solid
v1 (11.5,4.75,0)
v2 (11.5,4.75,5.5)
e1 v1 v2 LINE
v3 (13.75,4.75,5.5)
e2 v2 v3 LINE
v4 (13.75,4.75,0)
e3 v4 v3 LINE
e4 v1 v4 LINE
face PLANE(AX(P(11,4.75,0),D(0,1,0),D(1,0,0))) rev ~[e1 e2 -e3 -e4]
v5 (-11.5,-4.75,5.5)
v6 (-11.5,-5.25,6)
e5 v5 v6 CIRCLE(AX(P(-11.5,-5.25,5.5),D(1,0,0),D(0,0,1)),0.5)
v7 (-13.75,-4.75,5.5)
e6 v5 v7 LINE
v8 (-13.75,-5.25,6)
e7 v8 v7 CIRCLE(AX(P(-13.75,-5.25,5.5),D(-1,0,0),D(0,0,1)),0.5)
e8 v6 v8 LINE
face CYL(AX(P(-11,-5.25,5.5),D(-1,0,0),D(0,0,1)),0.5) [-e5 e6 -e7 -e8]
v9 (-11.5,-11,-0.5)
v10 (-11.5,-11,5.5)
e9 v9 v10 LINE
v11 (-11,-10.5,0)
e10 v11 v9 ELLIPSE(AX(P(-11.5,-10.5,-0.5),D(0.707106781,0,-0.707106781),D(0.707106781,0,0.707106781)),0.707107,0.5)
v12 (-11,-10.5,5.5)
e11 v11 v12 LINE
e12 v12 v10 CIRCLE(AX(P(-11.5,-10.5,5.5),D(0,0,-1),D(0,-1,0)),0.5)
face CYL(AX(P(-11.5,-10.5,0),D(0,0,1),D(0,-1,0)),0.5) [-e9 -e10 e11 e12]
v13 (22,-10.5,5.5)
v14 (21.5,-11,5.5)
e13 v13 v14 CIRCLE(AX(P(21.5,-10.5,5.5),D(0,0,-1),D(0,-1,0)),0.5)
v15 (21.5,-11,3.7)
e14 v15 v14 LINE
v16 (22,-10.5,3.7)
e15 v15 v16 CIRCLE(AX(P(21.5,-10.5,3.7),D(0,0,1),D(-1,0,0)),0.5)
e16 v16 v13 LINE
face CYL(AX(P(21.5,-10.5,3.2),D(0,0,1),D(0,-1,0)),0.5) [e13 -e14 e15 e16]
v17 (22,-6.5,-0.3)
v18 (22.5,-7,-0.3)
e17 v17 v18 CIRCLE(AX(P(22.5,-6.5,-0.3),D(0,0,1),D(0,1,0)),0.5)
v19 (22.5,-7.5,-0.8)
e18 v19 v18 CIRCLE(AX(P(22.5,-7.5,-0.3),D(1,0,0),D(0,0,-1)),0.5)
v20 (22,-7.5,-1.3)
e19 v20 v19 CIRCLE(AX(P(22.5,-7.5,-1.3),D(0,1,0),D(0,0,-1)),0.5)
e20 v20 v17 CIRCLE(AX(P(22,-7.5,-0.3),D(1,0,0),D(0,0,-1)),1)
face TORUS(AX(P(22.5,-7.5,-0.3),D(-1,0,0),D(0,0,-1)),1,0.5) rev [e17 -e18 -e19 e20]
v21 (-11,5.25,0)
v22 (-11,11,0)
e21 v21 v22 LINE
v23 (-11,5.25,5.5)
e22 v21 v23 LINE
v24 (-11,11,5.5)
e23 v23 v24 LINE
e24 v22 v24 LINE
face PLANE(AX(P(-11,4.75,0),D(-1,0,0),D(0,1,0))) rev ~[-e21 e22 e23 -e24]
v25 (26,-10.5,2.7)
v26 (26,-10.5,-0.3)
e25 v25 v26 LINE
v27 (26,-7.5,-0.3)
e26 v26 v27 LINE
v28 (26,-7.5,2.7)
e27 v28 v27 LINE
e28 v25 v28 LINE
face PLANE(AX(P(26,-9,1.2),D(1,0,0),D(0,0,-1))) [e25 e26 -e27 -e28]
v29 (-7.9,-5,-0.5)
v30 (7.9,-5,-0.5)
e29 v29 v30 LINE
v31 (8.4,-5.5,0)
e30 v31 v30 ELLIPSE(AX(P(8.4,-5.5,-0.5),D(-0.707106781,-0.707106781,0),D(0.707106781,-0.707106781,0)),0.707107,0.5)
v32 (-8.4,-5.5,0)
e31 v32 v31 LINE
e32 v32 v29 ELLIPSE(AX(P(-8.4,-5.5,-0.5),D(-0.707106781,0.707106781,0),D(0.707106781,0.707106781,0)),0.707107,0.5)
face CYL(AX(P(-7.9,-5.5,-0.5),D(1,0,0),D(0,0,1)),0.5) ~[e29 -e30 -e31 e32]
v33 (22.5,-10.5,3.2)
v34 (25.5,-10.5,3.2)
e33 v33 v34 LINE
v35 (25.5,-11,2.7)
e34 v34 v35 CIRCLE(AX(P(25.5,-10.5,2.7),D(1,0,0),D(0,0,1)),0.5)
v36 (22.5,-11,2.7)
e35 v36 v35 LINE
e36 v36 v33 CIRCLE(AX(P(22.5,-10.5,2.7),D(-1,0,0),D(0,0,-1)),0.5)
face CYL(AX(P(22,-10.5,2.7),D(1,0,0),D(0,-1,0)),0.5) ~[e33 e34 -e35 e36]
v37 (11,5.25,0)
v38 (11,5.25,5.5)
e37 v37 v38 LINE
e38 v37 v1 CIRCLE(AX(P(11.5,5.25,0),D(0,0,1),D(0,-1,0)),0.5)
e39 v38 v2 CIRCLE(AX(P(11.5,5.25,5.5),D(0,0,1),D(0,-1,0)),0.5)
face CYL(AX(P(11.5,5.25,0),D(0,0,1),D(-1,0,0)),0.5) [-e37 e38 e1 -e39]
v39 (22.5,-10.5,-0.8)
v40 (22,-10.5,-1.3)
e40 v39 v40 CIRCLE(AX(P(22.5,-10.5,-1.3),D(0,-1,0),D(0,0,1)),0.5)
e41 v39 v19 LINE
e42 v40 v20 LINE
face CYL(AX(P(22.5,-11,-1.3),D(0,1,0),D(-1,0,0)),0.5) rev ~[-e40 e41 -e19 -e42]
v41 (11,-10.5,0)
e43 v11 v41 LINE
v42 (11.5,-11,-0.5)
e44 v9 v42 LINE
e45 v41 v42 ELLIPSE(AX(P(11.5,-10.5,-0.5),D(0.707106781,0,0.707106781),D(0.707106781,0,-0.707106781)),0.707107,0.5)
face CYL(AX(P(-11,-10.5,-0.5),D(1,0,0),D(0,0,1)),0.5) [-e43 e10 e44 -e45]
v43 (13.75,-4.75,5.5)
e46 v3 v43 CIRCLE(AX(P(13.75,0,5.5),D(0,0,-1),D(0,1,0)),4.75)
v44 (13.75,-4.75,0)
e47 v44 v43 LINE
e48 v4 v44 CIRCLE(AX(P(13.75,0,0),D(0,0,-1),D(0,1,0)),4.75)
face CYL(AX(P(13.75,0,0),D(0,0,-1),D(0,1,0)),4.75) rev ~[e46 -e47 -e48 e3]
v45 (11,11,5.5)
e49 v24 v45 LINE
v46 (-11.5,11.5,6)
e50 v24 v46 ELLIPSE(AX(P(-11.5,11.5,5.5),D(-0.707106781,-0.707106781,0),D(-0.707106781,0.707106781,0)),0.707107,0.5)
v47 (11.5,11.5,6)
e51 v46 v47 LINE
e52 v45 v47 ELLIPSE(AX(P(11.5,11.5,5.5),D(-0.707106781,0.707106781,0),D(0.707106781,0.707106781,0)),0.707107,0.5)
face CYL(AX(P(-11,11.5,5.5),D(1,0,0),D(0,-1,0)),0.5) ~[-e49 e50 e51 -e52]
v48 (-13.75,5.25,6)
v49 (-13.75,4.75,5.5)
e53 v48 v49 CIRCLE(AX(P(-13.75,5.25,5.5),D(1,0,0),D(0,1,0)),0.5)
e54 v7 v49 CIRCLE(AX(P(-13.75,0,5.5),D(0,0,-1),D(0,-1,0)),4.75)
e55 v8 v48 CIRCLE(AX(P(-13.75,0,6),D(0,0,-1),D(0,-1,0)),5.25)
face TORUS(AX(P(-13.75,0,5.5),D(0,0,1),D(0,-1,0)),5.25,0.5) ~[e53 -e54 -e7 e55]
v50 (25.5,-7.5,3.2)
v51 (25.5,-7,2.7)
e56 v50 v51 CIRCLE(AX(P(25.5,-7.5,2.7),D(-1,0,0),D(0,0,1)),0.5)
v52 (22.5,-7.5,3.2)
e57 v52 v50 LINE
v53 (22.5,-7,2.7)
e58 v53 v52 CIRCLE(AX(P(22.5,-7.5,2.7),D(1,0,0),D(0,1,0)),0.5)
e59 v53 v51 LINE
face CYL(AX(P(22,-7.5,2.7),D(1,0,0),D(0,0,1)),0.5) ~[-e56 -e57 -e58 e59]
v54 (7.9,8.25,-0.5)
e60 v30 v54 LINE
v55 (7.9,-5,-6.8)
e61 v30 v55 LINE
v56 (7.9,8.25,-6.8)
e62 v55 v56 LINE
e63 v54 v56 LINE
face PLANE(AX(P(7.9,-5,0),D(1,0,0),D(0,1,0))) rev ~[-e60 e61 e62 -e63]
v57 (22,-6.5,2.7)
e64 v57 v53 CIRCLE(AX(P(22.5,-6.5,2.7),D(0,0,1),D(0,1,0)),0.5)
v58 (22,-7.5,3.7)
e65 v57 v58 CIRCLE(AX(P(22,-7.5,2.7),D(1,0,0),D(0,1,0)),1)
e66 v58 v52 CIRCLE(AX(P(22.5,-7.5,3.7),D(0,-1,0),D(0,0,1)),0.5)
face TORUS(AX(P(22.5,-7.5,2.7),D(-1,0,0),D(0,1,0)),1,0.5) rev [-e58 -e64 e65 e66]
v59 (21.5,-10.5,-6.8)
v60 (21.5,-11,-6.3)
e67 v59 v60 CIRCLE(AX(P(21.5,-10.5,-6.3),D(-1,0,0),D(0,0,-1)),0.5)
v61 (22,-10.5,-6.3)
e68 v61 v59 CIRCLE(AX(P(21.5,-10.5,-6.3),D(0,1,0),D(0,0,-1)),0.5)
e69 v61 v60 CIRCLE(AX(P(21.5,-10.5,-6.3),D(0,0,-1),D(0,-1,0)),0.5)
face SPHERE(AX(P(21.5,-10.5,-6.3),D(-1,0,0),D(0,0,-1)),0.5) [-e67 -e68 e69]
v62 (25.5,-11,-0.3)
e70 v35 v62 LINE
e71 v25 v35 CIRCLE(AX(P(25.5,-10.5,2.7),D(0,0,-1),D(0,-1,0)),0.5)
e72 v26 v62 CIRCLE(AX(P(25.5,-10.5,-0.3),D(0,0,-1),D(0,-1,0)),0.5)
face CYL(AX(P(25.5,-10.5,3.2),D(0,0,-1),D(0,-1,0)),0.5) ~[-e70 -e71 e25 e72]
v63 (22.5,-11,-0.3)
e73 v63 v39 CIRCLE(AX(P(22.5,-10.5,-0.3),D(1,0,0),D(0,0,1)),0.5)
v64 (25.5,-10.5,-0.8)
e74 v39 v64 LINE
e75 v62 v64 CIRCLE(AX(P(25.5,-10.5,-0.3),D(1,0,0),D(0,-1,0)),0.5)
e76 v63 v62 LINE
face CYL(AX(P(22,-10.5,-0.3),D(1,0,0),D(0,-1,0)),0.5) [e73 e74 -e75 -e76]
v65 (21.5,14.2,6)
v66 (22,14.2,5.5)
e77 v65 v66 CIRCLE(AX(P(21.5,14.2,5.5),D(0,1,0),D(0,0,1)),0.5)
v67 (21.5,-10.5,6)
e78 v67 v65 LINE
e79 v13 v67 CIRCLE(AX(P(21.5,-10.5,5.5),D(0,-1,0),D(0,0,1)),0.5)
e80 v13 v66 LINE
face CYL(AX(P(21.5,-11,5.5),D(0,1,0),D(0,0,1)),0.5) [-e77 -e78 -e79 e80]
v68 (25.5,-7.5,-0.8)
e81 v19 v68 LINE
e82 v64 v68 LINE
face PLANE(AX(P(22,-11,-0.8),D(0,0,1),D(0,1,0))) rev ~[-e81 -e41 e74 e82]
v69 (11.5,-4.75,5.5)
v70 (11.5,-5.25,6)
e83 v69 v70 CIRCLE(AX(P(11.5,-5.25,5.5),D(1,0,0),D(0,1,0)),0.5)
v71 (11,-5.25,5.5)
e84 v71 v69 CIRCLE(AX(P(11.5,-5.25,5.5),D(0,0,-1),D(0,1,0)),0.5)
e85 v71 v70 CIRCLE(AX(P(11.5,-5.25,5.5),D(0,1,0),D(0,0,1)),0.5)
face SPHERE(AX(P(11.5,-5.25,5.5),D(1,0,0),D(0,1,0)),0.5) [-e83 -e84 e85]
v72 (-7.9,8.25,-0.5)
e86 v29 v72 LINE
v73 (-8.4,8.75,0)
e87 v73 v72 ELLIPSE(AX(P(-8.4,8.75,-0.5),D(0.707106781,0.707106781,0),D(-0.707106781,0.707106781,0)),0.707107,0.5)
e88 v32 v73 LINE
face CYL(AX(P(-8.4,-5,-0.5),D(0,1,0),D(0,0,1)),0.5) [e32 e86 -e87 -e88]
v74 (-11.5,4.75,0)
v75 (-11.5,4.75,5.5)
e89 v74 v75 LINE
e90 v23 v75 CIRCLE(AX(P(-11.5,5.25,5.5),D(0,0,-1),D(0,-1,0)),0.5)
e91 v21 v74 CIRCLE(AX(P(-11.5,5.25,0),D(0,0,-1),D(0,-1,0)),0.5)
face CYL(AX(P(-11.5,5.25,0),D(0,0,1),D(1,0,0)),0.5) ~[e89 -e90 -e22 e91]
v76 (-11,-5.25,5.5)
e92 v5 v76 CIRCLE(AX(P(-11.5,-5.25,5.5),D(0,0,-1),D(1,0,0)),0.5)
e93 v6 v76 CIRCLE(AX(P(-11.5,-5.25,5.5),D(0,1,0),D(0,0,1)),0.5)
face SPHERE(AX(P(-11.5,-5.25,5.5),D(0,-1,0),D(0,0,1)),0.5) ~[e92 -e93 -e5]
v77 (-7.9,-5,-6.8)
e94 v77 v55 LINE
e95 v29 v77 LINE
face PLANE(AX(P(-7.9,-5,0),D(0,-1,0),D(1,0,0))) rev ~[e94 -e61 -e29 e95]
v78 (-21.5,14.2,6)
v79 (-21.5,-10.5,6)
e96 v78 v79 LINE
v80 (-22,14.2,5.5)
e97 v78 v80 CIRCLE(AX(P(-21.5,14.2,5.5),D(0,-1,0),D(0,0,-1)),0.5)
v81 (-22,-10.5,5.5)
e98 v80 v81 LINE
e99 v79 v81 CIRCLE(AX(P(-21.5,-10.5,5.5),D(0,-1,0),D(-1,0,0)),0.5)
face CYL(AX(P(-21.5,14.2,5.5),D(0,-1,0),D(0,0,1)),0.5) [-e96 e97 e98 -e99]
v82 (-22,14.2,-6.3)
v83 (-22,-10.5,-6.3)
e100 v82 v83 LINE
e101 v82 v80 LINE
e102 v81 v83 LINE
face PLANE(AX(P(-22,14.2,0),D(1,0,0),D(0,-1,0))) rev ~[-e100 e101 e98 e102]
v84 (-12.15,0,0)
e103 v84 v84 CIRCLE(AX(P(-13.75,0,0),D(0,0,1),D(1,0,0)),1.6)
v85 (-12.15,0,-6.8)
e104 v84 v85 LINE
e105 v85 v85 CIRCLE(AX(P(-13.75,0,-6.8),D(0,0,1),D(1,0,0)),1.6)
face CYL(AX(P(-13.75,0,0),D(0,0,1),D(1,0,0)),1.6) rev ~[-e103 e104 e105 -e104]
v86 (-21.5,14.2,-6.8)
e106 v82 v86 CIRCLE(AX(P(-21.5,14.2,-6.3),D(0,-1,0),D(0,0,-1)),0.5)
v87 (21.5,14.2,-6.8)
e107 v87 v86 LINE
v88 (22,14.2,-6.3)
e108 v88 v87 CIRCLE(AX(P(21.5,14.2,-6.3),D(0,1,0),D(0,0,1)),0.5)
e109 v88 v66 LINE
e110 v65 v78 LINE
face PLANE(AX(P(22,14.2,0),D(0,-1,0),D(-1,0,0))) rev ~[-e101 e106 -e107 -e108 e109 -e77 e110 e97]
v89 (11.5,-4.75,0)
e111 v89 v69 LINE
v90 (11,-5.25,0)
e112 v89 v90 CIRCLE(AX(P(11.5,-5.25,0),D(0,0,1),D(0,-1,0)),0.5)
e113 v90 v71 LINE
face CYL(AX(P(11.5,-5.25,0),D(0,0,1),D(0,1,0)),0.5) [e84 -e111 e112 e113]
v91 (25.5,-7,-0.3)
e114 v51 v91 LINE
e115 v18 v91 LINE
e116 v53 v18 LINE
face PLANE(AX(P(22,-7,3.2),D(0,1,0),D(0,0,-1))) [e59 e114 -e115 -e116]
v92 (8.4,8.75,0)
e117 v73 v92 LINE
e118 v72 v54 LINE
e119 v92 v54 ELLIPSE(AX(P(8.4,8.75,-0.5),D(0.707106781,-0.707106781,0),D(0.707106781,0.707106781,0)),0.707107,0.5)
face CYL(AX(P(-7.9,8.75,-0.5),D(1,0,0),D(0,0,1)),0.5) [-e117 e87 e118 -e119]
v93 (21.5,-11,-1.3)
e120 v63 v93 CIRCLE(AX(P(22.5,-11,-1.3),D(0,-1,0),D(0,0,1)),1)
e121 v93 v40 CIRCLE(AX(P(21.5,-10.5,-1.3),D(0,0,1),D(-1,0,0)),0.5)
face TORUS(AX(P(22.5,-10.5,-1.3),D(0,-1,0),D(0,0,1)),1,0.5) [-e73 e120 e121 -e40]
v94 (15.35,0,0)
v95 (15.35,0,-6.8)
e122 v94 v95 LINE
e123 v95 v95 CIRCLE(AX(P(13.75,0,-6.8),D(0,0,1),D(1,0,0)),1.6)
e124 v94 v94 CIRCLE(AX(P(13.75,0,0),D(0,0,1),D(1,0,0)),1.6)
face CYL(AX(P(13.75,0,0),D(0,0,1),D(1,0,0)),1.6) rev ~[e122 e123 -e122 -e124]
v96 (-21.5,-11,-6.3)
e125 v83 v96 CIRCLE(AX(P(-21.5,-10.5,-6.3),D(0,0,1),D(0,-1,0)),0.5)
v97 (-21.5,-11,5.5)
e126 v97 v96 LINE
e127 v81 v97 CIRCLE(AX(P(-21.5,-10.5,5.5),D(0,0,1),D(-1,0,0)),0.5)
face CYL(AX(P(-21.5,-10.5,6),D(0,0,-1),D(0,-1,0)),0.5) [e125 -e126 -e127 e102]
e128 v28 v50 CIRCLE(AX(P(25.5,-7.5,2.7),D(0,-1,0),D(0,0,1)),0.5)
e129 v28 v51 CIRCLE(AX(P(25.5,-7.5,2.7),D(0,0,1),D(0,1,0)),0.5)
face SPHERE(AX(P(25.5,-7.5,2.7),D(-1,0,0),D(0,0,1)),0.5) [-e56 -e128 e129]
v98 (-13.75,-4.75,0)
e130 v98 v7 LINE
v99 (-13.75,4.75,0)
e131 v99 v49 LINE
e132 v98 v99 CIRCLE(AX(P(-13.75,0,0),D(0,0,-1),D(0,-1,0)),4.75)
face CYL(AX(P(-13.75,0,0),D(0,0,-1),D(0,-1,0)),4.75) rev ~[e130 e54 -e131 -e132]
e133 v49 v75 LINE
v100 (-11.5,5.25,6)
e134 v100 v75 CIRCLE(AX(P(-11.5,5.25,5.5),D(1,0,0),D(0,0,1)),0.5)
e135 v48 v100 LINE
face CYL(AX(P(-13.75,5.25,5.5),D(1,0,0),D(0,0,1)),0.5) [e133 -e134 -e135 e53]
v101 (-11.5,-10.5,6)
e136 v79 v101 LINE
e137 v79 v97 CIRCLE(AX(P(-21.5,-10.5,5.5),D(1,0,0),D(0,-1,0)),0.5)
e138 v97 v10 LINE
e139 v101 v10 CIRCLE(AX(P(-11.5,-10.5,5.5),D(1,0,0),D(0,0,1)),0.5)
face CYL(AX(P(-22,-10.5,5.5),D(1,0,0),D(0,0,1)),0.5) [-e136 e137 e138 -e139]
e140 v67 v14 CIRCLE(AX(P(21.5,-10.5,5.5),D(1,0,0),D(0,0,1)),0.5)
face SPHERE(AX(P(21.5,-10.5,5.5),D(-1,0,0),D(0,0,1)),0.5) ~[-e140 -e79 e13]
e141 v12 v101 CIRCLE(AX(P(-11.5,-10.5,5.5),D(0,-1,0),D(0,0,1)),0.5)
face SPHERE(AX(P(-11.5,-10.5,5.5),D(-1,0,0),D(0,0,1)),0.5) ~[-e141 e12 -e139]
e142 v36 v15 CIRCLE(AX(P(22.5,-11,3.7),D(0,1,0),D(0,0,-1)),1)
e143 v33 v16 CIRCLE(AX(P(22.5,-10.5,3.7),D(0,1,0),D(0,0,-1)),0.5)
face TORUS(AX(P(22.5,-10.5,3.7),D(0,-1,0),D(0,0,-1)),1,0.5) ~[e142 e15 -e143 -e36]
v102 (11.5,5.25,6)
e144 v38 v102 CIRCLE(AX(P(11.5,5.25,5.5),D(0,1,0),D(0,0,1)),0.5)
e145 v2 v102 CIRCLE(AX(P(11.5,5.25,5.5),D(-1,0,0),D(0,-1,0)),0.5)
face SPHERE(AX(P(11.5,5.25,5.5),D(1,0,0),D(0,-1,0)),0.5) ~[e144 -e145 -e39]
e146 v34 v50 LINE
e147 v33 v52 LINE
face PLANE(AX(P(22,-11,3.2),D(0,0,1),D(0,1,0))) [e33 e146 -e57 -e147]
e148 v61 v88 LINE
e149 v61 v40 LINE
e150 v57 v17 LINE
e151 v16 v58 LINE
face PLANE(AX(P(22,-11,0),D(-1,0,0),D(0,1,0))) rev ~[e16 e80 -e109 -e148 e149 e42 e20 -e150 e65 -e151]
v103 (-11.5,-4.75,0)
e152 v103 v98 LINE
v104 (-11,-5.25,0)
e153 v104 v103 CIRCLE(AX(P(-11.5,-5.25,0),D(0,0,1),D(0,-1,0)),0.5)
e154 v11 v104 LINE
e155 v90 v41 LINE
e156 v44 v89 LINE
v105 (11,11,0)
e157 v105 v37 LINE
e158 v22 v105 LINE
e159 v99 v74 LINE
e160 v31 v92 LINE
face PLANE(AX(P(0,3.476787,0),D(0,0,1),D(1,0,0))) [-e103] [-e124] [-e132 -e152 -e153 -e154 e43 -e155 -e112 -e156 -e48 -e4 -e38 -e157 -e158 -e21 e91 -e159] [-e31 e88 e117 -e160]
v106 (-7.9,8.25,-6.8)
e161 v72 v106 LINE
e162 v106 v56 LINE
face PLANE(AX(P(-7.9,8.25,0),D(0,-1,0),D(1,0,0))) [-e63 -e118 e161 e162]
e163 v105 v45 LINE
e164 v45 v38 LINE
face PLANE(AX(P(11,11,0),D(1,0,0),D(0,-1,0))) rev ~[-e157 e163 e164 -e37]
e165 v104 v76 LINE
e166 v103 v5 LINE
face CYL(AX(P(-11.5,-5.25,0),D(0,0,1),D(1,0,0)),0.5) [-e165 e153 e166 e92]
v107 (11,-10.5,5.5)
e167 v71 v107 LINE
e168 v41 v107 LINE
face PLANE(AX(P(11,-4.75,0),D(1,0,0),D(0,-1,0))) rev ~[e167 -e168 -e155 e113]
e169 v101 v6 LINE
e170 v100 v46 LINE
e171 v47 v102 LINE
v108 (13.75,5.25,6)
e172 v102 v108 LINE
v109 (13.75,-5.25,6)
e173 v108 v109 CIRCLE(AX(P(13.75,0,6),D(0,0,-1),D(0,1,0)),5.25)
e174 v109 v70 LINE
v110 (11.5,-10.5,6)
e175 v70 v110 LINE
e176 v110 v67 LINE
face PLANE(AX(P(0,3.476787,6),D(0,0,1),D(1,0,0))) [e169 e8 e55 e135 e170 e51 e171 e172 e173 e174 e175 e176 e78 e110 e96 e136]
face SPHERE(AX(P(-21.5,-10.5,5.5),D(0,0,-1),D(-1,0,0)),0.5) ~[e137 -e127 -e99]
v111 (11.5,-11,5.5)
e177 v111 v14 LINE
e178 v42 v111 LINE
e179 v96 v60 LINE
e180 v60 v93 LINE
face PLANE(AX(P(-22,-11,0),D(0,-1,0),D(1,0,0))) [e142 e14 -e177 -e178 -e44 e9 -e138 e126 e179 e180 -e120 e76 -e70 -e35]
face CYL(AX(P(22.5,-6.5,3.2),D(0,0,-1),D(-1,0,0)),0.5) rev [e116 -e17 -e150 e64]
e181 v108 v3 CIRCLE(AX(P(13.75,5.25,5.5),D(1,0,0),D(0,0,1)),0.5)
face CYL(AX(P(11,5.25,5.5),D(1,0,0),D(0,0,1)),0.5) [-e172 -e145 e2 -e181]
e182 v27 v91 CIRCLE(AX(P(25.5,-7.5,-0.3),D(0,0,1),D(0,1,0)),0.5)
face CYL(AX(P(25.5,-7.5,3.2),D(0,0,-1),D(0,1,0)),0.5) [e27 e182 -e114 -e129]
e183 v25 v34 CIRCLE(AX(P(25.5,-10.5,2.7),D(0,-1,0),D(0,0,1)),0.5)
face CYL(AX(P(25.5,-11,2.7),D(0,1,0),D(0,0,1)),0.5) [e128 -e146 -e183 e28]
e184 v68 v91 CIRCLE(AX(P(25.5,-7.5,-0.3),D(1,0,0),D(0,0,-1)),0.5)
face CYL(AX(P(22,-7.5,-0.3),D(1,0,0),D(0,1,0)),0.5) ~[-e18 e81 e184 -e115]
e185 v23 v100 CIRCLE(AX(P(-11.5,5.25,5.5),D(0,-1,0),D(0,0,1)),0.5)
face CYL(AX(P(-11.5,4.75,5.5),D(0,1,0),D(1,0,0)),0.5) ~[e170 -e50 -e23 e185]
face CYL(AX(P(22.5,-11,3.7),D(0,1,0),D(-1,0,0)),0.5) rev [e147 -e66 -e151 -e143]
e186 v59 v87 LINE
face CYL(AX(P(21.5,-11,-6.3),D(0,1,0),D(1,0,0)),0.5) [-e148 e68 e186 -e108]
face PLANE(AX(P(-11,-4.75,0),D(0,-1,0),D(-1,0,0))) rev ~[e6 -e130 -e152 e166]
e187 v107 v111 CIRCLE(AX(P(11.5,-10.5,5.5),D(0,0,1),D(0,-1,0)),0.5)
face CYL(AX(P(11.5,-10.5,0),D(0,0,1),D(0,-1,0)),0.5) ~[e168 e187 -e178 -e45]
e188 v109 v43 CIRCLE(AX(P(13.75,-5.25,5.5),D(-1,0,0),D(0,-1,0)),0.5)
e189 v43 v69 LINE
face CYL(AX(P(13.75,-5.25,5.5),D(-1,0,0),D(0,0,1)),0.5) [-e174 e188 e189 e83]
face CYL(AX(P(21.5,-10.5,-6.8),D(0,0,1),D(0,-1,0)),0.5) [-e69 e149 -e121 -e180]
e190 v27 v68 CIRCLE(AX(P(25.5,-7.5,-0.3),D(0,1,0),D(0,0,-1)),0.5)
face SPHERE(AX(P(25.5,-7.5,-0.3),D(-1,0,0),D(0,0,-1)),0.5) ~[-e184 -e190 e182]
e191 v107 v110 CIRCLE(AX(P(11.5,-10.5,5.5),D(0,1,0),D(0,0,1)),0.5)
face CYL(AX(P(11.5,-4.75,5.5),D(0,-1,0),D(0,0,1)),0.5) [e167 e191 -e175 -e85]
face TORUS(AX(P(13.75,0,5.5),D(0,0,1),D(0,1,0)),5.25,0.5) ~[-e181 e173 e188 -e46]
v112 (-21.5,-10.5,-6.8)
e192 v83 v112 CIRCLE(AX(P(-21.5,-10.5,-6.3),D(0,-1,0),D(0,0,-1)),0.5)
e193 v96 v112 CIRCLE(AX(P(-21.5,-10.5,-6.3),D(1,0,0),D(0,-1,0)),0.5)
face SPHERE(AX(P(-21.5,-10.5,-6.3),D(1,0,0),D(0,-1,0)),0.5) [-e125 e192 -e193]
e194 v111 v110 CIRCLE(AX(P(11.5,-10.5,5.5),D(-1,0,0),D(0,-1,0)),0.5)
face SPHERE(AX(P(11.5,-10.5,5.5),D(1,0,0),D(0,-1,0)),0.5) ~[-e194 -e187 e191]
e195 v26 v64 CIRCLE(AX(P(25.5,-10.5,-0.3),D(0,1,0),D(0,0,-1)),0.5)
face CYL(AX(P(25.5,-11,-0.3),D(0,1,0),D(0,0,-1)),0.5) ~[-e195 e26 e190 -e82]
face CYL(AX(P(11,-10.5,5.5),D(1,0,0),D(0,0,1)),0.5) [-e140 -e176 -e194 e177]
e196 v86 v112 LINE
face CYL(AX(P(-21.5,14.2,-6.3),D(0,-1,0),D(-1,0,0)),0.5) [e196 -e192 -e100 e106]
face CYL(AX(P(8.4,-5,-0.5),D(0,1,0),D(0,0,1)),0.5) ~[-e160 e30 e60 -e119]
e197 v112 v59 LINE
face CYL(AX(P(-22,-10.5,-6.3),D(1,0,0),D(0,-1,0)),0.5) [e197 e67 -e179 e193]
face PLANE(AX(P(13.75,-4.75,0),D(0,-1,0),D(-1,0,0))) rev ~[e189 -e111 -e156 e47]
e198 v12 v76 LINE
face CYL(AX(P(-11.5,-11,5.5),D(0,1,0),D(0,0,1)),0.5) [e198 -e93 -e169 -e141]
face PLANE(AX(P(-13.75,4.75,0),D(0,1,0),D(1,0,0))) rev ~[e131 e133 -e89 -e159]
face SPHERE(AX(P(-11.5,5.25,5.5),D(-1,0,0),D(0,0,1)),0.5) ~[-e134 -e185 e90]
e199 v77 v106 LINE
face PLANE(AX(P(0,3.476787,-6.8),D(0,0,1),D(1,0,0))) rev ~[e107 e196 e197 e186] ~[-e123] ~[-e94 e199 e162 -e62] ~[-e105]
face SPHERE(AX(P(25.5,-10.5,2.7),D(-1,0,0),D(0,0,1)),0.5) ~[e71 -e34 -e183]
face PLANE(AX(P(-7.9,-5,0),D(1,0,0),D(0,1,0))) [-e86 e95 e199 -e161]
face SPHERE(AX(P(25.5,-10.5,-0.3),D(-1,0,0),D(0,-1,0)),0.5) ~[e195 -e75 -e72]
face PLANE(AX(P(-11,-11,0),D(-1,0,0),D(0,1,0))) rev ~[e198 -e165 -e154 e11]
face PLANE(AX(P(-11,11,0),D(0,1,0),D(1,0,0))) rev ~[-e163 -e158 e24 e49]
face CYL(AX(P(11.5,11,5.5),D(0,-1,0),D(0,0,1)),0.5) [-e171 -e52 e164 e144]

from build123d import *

# Parameters (mm, degrees)
SKETCH1_W           = 44
SKETCH1_H           = 25.2
SKETCH1_R           = 1.6
SKETCH1_W_2         = 15.8
SKETCH1_H_2         = 13.25
BOSS_EXTRUDE1_DEPTH = 6.8
BOSS_EXTRUDE4_DEPTH = 6
SKETCH6_W           = 4
SKETCH6_H           = 4
BOSS_EXTRUDE6_DEPTH = 4
FILLET1_R           = 0.5


with BuildPart() as part:
    # Sketch1 → Boss-Extrude1 (new body)
    with BuildSketch(Plane.XY):
        with Locations((0, 1.6)):
            Rectangle(SKETCH1_W, SKETCH1_H)
        with Locations((13.75, 0)):
            Circle(SKETCH1_R, mode=Mode.SUBTRACT)
        with Locations((0, 1.625)):
            Rectangle(SKETCH1_W_2, SKETCH1_H_2, mode=Mode.SUBTRACT)
        with Locations((-13.75, 0)):
            Circle(SKETCH1_R, mode=Mode.SUBTRACT)
    extrude(amount=-BOSS_EXTRUDE1_DEPTH)

    # Sketch1<3> → Boss-Extrude4 (add)
    with BuildSketch(Plane.XY):
        with BuildLine():
            Line((-11, 4.75), (-11, 11))
            Line((-11, 11), (11, 11))
            Line((11, 11), (11, 4.75))
            Line((11, 4.75), (13.75, 4.75))
            ThreePointArc((13.75, 4.75), (18.5, 0), (13.75, -4.75))
            Line((13.75, -4.75), (11, -4.75))
            Line((11, -4.75), (11, -11))
            Line((11, -11), (22, -11))
            Line((22, -11), (22, 14.2))
            Line((22, 14.2), (-22, 14.2))
            Line((-22, 14.2), (-22, -11))
            Line((-22, -11), (-11, -11))
            Line((-11, -11), (-11, -4.75))
            Line((-11, -4.75), (-13.75, -4.75))
            ThreePointArc((-13.75, -4.75), (-18.5, 0), (-13.75, 4.75))
            Line((-13.75, 4.75), (-11, 4.75))
        make_face()
    extrude(amount=BOSS_EXTRUDE4_DEPTH)

    # Sketch6 → Boss-Extrude6 (add)
    with BuildSketch(Plane(origin=(22, 0, 0), x_dir=(0, 0, -1), z_dir=(1, 0, 0))):
        with Locations((-1.2, -9)):
            Rectangle(SKETCH6_W, SKETCH6_H)
    extrude(amount=BOSS_EXTRUDE6_DEPTH)

    # Fillet1
    fillet1_edges = [part.edges().sort_by_distance(p)[0] for p in [
        (22, -7, 1.2),
        (24, -11, 3.2),
        (24, -11, -0.8),
        (26, -9, -0.8),
        (24, -7, -0.8),
        (22, -9, -0.8),
        (24, -7, 3.2),
        (22, -9, 3.2),
        (26, -9, 3.2),
        (26, -7, 1.2),
        (26, -11, 1.2),
        (22, 1.6, 6),
        (22, -11, 4.6),
        (22, -11, -3.8),
        (-22, 1.6, 6),
        (-22, -11, -0.4),
        (0, -11, -6.8),
        (22, 1.6, -6.8),
        (-22, 1.6, -6.8),
        (-12.375, 4.75, 6),
        (-18.5, 0, 6),
        (12.375, -4.75, 6),
        (18.5, 0, 6),
        (-7.9, 1.625, 0),
        (0, -5, 0),
        (7.9, 1.625, 0),
        (0, 8.25, 0),
        (-16.5, -11, 6),
        (16.5, -11, 6),
        (-11, 7.875, 6),
        (-12.375, -4.75, 6),
        (-11, -7.875, 6),
        (11, -7.875, 6),
        (12.375, 4.75, 6),
        (11, 7.875, 6),
        (0, 11, 6),
        (11, -4.75, 3),
        (-11, -4.75, 3),
        (-11, 4.75, 3),
        (11, 4.75, 3),
        (-11, -11, 3),
        (0, -11, 0),
        (11, -11, 3),
    ]]
    fillet(fillet1_edges, radius=FILLET1_R)


solid = part.part
